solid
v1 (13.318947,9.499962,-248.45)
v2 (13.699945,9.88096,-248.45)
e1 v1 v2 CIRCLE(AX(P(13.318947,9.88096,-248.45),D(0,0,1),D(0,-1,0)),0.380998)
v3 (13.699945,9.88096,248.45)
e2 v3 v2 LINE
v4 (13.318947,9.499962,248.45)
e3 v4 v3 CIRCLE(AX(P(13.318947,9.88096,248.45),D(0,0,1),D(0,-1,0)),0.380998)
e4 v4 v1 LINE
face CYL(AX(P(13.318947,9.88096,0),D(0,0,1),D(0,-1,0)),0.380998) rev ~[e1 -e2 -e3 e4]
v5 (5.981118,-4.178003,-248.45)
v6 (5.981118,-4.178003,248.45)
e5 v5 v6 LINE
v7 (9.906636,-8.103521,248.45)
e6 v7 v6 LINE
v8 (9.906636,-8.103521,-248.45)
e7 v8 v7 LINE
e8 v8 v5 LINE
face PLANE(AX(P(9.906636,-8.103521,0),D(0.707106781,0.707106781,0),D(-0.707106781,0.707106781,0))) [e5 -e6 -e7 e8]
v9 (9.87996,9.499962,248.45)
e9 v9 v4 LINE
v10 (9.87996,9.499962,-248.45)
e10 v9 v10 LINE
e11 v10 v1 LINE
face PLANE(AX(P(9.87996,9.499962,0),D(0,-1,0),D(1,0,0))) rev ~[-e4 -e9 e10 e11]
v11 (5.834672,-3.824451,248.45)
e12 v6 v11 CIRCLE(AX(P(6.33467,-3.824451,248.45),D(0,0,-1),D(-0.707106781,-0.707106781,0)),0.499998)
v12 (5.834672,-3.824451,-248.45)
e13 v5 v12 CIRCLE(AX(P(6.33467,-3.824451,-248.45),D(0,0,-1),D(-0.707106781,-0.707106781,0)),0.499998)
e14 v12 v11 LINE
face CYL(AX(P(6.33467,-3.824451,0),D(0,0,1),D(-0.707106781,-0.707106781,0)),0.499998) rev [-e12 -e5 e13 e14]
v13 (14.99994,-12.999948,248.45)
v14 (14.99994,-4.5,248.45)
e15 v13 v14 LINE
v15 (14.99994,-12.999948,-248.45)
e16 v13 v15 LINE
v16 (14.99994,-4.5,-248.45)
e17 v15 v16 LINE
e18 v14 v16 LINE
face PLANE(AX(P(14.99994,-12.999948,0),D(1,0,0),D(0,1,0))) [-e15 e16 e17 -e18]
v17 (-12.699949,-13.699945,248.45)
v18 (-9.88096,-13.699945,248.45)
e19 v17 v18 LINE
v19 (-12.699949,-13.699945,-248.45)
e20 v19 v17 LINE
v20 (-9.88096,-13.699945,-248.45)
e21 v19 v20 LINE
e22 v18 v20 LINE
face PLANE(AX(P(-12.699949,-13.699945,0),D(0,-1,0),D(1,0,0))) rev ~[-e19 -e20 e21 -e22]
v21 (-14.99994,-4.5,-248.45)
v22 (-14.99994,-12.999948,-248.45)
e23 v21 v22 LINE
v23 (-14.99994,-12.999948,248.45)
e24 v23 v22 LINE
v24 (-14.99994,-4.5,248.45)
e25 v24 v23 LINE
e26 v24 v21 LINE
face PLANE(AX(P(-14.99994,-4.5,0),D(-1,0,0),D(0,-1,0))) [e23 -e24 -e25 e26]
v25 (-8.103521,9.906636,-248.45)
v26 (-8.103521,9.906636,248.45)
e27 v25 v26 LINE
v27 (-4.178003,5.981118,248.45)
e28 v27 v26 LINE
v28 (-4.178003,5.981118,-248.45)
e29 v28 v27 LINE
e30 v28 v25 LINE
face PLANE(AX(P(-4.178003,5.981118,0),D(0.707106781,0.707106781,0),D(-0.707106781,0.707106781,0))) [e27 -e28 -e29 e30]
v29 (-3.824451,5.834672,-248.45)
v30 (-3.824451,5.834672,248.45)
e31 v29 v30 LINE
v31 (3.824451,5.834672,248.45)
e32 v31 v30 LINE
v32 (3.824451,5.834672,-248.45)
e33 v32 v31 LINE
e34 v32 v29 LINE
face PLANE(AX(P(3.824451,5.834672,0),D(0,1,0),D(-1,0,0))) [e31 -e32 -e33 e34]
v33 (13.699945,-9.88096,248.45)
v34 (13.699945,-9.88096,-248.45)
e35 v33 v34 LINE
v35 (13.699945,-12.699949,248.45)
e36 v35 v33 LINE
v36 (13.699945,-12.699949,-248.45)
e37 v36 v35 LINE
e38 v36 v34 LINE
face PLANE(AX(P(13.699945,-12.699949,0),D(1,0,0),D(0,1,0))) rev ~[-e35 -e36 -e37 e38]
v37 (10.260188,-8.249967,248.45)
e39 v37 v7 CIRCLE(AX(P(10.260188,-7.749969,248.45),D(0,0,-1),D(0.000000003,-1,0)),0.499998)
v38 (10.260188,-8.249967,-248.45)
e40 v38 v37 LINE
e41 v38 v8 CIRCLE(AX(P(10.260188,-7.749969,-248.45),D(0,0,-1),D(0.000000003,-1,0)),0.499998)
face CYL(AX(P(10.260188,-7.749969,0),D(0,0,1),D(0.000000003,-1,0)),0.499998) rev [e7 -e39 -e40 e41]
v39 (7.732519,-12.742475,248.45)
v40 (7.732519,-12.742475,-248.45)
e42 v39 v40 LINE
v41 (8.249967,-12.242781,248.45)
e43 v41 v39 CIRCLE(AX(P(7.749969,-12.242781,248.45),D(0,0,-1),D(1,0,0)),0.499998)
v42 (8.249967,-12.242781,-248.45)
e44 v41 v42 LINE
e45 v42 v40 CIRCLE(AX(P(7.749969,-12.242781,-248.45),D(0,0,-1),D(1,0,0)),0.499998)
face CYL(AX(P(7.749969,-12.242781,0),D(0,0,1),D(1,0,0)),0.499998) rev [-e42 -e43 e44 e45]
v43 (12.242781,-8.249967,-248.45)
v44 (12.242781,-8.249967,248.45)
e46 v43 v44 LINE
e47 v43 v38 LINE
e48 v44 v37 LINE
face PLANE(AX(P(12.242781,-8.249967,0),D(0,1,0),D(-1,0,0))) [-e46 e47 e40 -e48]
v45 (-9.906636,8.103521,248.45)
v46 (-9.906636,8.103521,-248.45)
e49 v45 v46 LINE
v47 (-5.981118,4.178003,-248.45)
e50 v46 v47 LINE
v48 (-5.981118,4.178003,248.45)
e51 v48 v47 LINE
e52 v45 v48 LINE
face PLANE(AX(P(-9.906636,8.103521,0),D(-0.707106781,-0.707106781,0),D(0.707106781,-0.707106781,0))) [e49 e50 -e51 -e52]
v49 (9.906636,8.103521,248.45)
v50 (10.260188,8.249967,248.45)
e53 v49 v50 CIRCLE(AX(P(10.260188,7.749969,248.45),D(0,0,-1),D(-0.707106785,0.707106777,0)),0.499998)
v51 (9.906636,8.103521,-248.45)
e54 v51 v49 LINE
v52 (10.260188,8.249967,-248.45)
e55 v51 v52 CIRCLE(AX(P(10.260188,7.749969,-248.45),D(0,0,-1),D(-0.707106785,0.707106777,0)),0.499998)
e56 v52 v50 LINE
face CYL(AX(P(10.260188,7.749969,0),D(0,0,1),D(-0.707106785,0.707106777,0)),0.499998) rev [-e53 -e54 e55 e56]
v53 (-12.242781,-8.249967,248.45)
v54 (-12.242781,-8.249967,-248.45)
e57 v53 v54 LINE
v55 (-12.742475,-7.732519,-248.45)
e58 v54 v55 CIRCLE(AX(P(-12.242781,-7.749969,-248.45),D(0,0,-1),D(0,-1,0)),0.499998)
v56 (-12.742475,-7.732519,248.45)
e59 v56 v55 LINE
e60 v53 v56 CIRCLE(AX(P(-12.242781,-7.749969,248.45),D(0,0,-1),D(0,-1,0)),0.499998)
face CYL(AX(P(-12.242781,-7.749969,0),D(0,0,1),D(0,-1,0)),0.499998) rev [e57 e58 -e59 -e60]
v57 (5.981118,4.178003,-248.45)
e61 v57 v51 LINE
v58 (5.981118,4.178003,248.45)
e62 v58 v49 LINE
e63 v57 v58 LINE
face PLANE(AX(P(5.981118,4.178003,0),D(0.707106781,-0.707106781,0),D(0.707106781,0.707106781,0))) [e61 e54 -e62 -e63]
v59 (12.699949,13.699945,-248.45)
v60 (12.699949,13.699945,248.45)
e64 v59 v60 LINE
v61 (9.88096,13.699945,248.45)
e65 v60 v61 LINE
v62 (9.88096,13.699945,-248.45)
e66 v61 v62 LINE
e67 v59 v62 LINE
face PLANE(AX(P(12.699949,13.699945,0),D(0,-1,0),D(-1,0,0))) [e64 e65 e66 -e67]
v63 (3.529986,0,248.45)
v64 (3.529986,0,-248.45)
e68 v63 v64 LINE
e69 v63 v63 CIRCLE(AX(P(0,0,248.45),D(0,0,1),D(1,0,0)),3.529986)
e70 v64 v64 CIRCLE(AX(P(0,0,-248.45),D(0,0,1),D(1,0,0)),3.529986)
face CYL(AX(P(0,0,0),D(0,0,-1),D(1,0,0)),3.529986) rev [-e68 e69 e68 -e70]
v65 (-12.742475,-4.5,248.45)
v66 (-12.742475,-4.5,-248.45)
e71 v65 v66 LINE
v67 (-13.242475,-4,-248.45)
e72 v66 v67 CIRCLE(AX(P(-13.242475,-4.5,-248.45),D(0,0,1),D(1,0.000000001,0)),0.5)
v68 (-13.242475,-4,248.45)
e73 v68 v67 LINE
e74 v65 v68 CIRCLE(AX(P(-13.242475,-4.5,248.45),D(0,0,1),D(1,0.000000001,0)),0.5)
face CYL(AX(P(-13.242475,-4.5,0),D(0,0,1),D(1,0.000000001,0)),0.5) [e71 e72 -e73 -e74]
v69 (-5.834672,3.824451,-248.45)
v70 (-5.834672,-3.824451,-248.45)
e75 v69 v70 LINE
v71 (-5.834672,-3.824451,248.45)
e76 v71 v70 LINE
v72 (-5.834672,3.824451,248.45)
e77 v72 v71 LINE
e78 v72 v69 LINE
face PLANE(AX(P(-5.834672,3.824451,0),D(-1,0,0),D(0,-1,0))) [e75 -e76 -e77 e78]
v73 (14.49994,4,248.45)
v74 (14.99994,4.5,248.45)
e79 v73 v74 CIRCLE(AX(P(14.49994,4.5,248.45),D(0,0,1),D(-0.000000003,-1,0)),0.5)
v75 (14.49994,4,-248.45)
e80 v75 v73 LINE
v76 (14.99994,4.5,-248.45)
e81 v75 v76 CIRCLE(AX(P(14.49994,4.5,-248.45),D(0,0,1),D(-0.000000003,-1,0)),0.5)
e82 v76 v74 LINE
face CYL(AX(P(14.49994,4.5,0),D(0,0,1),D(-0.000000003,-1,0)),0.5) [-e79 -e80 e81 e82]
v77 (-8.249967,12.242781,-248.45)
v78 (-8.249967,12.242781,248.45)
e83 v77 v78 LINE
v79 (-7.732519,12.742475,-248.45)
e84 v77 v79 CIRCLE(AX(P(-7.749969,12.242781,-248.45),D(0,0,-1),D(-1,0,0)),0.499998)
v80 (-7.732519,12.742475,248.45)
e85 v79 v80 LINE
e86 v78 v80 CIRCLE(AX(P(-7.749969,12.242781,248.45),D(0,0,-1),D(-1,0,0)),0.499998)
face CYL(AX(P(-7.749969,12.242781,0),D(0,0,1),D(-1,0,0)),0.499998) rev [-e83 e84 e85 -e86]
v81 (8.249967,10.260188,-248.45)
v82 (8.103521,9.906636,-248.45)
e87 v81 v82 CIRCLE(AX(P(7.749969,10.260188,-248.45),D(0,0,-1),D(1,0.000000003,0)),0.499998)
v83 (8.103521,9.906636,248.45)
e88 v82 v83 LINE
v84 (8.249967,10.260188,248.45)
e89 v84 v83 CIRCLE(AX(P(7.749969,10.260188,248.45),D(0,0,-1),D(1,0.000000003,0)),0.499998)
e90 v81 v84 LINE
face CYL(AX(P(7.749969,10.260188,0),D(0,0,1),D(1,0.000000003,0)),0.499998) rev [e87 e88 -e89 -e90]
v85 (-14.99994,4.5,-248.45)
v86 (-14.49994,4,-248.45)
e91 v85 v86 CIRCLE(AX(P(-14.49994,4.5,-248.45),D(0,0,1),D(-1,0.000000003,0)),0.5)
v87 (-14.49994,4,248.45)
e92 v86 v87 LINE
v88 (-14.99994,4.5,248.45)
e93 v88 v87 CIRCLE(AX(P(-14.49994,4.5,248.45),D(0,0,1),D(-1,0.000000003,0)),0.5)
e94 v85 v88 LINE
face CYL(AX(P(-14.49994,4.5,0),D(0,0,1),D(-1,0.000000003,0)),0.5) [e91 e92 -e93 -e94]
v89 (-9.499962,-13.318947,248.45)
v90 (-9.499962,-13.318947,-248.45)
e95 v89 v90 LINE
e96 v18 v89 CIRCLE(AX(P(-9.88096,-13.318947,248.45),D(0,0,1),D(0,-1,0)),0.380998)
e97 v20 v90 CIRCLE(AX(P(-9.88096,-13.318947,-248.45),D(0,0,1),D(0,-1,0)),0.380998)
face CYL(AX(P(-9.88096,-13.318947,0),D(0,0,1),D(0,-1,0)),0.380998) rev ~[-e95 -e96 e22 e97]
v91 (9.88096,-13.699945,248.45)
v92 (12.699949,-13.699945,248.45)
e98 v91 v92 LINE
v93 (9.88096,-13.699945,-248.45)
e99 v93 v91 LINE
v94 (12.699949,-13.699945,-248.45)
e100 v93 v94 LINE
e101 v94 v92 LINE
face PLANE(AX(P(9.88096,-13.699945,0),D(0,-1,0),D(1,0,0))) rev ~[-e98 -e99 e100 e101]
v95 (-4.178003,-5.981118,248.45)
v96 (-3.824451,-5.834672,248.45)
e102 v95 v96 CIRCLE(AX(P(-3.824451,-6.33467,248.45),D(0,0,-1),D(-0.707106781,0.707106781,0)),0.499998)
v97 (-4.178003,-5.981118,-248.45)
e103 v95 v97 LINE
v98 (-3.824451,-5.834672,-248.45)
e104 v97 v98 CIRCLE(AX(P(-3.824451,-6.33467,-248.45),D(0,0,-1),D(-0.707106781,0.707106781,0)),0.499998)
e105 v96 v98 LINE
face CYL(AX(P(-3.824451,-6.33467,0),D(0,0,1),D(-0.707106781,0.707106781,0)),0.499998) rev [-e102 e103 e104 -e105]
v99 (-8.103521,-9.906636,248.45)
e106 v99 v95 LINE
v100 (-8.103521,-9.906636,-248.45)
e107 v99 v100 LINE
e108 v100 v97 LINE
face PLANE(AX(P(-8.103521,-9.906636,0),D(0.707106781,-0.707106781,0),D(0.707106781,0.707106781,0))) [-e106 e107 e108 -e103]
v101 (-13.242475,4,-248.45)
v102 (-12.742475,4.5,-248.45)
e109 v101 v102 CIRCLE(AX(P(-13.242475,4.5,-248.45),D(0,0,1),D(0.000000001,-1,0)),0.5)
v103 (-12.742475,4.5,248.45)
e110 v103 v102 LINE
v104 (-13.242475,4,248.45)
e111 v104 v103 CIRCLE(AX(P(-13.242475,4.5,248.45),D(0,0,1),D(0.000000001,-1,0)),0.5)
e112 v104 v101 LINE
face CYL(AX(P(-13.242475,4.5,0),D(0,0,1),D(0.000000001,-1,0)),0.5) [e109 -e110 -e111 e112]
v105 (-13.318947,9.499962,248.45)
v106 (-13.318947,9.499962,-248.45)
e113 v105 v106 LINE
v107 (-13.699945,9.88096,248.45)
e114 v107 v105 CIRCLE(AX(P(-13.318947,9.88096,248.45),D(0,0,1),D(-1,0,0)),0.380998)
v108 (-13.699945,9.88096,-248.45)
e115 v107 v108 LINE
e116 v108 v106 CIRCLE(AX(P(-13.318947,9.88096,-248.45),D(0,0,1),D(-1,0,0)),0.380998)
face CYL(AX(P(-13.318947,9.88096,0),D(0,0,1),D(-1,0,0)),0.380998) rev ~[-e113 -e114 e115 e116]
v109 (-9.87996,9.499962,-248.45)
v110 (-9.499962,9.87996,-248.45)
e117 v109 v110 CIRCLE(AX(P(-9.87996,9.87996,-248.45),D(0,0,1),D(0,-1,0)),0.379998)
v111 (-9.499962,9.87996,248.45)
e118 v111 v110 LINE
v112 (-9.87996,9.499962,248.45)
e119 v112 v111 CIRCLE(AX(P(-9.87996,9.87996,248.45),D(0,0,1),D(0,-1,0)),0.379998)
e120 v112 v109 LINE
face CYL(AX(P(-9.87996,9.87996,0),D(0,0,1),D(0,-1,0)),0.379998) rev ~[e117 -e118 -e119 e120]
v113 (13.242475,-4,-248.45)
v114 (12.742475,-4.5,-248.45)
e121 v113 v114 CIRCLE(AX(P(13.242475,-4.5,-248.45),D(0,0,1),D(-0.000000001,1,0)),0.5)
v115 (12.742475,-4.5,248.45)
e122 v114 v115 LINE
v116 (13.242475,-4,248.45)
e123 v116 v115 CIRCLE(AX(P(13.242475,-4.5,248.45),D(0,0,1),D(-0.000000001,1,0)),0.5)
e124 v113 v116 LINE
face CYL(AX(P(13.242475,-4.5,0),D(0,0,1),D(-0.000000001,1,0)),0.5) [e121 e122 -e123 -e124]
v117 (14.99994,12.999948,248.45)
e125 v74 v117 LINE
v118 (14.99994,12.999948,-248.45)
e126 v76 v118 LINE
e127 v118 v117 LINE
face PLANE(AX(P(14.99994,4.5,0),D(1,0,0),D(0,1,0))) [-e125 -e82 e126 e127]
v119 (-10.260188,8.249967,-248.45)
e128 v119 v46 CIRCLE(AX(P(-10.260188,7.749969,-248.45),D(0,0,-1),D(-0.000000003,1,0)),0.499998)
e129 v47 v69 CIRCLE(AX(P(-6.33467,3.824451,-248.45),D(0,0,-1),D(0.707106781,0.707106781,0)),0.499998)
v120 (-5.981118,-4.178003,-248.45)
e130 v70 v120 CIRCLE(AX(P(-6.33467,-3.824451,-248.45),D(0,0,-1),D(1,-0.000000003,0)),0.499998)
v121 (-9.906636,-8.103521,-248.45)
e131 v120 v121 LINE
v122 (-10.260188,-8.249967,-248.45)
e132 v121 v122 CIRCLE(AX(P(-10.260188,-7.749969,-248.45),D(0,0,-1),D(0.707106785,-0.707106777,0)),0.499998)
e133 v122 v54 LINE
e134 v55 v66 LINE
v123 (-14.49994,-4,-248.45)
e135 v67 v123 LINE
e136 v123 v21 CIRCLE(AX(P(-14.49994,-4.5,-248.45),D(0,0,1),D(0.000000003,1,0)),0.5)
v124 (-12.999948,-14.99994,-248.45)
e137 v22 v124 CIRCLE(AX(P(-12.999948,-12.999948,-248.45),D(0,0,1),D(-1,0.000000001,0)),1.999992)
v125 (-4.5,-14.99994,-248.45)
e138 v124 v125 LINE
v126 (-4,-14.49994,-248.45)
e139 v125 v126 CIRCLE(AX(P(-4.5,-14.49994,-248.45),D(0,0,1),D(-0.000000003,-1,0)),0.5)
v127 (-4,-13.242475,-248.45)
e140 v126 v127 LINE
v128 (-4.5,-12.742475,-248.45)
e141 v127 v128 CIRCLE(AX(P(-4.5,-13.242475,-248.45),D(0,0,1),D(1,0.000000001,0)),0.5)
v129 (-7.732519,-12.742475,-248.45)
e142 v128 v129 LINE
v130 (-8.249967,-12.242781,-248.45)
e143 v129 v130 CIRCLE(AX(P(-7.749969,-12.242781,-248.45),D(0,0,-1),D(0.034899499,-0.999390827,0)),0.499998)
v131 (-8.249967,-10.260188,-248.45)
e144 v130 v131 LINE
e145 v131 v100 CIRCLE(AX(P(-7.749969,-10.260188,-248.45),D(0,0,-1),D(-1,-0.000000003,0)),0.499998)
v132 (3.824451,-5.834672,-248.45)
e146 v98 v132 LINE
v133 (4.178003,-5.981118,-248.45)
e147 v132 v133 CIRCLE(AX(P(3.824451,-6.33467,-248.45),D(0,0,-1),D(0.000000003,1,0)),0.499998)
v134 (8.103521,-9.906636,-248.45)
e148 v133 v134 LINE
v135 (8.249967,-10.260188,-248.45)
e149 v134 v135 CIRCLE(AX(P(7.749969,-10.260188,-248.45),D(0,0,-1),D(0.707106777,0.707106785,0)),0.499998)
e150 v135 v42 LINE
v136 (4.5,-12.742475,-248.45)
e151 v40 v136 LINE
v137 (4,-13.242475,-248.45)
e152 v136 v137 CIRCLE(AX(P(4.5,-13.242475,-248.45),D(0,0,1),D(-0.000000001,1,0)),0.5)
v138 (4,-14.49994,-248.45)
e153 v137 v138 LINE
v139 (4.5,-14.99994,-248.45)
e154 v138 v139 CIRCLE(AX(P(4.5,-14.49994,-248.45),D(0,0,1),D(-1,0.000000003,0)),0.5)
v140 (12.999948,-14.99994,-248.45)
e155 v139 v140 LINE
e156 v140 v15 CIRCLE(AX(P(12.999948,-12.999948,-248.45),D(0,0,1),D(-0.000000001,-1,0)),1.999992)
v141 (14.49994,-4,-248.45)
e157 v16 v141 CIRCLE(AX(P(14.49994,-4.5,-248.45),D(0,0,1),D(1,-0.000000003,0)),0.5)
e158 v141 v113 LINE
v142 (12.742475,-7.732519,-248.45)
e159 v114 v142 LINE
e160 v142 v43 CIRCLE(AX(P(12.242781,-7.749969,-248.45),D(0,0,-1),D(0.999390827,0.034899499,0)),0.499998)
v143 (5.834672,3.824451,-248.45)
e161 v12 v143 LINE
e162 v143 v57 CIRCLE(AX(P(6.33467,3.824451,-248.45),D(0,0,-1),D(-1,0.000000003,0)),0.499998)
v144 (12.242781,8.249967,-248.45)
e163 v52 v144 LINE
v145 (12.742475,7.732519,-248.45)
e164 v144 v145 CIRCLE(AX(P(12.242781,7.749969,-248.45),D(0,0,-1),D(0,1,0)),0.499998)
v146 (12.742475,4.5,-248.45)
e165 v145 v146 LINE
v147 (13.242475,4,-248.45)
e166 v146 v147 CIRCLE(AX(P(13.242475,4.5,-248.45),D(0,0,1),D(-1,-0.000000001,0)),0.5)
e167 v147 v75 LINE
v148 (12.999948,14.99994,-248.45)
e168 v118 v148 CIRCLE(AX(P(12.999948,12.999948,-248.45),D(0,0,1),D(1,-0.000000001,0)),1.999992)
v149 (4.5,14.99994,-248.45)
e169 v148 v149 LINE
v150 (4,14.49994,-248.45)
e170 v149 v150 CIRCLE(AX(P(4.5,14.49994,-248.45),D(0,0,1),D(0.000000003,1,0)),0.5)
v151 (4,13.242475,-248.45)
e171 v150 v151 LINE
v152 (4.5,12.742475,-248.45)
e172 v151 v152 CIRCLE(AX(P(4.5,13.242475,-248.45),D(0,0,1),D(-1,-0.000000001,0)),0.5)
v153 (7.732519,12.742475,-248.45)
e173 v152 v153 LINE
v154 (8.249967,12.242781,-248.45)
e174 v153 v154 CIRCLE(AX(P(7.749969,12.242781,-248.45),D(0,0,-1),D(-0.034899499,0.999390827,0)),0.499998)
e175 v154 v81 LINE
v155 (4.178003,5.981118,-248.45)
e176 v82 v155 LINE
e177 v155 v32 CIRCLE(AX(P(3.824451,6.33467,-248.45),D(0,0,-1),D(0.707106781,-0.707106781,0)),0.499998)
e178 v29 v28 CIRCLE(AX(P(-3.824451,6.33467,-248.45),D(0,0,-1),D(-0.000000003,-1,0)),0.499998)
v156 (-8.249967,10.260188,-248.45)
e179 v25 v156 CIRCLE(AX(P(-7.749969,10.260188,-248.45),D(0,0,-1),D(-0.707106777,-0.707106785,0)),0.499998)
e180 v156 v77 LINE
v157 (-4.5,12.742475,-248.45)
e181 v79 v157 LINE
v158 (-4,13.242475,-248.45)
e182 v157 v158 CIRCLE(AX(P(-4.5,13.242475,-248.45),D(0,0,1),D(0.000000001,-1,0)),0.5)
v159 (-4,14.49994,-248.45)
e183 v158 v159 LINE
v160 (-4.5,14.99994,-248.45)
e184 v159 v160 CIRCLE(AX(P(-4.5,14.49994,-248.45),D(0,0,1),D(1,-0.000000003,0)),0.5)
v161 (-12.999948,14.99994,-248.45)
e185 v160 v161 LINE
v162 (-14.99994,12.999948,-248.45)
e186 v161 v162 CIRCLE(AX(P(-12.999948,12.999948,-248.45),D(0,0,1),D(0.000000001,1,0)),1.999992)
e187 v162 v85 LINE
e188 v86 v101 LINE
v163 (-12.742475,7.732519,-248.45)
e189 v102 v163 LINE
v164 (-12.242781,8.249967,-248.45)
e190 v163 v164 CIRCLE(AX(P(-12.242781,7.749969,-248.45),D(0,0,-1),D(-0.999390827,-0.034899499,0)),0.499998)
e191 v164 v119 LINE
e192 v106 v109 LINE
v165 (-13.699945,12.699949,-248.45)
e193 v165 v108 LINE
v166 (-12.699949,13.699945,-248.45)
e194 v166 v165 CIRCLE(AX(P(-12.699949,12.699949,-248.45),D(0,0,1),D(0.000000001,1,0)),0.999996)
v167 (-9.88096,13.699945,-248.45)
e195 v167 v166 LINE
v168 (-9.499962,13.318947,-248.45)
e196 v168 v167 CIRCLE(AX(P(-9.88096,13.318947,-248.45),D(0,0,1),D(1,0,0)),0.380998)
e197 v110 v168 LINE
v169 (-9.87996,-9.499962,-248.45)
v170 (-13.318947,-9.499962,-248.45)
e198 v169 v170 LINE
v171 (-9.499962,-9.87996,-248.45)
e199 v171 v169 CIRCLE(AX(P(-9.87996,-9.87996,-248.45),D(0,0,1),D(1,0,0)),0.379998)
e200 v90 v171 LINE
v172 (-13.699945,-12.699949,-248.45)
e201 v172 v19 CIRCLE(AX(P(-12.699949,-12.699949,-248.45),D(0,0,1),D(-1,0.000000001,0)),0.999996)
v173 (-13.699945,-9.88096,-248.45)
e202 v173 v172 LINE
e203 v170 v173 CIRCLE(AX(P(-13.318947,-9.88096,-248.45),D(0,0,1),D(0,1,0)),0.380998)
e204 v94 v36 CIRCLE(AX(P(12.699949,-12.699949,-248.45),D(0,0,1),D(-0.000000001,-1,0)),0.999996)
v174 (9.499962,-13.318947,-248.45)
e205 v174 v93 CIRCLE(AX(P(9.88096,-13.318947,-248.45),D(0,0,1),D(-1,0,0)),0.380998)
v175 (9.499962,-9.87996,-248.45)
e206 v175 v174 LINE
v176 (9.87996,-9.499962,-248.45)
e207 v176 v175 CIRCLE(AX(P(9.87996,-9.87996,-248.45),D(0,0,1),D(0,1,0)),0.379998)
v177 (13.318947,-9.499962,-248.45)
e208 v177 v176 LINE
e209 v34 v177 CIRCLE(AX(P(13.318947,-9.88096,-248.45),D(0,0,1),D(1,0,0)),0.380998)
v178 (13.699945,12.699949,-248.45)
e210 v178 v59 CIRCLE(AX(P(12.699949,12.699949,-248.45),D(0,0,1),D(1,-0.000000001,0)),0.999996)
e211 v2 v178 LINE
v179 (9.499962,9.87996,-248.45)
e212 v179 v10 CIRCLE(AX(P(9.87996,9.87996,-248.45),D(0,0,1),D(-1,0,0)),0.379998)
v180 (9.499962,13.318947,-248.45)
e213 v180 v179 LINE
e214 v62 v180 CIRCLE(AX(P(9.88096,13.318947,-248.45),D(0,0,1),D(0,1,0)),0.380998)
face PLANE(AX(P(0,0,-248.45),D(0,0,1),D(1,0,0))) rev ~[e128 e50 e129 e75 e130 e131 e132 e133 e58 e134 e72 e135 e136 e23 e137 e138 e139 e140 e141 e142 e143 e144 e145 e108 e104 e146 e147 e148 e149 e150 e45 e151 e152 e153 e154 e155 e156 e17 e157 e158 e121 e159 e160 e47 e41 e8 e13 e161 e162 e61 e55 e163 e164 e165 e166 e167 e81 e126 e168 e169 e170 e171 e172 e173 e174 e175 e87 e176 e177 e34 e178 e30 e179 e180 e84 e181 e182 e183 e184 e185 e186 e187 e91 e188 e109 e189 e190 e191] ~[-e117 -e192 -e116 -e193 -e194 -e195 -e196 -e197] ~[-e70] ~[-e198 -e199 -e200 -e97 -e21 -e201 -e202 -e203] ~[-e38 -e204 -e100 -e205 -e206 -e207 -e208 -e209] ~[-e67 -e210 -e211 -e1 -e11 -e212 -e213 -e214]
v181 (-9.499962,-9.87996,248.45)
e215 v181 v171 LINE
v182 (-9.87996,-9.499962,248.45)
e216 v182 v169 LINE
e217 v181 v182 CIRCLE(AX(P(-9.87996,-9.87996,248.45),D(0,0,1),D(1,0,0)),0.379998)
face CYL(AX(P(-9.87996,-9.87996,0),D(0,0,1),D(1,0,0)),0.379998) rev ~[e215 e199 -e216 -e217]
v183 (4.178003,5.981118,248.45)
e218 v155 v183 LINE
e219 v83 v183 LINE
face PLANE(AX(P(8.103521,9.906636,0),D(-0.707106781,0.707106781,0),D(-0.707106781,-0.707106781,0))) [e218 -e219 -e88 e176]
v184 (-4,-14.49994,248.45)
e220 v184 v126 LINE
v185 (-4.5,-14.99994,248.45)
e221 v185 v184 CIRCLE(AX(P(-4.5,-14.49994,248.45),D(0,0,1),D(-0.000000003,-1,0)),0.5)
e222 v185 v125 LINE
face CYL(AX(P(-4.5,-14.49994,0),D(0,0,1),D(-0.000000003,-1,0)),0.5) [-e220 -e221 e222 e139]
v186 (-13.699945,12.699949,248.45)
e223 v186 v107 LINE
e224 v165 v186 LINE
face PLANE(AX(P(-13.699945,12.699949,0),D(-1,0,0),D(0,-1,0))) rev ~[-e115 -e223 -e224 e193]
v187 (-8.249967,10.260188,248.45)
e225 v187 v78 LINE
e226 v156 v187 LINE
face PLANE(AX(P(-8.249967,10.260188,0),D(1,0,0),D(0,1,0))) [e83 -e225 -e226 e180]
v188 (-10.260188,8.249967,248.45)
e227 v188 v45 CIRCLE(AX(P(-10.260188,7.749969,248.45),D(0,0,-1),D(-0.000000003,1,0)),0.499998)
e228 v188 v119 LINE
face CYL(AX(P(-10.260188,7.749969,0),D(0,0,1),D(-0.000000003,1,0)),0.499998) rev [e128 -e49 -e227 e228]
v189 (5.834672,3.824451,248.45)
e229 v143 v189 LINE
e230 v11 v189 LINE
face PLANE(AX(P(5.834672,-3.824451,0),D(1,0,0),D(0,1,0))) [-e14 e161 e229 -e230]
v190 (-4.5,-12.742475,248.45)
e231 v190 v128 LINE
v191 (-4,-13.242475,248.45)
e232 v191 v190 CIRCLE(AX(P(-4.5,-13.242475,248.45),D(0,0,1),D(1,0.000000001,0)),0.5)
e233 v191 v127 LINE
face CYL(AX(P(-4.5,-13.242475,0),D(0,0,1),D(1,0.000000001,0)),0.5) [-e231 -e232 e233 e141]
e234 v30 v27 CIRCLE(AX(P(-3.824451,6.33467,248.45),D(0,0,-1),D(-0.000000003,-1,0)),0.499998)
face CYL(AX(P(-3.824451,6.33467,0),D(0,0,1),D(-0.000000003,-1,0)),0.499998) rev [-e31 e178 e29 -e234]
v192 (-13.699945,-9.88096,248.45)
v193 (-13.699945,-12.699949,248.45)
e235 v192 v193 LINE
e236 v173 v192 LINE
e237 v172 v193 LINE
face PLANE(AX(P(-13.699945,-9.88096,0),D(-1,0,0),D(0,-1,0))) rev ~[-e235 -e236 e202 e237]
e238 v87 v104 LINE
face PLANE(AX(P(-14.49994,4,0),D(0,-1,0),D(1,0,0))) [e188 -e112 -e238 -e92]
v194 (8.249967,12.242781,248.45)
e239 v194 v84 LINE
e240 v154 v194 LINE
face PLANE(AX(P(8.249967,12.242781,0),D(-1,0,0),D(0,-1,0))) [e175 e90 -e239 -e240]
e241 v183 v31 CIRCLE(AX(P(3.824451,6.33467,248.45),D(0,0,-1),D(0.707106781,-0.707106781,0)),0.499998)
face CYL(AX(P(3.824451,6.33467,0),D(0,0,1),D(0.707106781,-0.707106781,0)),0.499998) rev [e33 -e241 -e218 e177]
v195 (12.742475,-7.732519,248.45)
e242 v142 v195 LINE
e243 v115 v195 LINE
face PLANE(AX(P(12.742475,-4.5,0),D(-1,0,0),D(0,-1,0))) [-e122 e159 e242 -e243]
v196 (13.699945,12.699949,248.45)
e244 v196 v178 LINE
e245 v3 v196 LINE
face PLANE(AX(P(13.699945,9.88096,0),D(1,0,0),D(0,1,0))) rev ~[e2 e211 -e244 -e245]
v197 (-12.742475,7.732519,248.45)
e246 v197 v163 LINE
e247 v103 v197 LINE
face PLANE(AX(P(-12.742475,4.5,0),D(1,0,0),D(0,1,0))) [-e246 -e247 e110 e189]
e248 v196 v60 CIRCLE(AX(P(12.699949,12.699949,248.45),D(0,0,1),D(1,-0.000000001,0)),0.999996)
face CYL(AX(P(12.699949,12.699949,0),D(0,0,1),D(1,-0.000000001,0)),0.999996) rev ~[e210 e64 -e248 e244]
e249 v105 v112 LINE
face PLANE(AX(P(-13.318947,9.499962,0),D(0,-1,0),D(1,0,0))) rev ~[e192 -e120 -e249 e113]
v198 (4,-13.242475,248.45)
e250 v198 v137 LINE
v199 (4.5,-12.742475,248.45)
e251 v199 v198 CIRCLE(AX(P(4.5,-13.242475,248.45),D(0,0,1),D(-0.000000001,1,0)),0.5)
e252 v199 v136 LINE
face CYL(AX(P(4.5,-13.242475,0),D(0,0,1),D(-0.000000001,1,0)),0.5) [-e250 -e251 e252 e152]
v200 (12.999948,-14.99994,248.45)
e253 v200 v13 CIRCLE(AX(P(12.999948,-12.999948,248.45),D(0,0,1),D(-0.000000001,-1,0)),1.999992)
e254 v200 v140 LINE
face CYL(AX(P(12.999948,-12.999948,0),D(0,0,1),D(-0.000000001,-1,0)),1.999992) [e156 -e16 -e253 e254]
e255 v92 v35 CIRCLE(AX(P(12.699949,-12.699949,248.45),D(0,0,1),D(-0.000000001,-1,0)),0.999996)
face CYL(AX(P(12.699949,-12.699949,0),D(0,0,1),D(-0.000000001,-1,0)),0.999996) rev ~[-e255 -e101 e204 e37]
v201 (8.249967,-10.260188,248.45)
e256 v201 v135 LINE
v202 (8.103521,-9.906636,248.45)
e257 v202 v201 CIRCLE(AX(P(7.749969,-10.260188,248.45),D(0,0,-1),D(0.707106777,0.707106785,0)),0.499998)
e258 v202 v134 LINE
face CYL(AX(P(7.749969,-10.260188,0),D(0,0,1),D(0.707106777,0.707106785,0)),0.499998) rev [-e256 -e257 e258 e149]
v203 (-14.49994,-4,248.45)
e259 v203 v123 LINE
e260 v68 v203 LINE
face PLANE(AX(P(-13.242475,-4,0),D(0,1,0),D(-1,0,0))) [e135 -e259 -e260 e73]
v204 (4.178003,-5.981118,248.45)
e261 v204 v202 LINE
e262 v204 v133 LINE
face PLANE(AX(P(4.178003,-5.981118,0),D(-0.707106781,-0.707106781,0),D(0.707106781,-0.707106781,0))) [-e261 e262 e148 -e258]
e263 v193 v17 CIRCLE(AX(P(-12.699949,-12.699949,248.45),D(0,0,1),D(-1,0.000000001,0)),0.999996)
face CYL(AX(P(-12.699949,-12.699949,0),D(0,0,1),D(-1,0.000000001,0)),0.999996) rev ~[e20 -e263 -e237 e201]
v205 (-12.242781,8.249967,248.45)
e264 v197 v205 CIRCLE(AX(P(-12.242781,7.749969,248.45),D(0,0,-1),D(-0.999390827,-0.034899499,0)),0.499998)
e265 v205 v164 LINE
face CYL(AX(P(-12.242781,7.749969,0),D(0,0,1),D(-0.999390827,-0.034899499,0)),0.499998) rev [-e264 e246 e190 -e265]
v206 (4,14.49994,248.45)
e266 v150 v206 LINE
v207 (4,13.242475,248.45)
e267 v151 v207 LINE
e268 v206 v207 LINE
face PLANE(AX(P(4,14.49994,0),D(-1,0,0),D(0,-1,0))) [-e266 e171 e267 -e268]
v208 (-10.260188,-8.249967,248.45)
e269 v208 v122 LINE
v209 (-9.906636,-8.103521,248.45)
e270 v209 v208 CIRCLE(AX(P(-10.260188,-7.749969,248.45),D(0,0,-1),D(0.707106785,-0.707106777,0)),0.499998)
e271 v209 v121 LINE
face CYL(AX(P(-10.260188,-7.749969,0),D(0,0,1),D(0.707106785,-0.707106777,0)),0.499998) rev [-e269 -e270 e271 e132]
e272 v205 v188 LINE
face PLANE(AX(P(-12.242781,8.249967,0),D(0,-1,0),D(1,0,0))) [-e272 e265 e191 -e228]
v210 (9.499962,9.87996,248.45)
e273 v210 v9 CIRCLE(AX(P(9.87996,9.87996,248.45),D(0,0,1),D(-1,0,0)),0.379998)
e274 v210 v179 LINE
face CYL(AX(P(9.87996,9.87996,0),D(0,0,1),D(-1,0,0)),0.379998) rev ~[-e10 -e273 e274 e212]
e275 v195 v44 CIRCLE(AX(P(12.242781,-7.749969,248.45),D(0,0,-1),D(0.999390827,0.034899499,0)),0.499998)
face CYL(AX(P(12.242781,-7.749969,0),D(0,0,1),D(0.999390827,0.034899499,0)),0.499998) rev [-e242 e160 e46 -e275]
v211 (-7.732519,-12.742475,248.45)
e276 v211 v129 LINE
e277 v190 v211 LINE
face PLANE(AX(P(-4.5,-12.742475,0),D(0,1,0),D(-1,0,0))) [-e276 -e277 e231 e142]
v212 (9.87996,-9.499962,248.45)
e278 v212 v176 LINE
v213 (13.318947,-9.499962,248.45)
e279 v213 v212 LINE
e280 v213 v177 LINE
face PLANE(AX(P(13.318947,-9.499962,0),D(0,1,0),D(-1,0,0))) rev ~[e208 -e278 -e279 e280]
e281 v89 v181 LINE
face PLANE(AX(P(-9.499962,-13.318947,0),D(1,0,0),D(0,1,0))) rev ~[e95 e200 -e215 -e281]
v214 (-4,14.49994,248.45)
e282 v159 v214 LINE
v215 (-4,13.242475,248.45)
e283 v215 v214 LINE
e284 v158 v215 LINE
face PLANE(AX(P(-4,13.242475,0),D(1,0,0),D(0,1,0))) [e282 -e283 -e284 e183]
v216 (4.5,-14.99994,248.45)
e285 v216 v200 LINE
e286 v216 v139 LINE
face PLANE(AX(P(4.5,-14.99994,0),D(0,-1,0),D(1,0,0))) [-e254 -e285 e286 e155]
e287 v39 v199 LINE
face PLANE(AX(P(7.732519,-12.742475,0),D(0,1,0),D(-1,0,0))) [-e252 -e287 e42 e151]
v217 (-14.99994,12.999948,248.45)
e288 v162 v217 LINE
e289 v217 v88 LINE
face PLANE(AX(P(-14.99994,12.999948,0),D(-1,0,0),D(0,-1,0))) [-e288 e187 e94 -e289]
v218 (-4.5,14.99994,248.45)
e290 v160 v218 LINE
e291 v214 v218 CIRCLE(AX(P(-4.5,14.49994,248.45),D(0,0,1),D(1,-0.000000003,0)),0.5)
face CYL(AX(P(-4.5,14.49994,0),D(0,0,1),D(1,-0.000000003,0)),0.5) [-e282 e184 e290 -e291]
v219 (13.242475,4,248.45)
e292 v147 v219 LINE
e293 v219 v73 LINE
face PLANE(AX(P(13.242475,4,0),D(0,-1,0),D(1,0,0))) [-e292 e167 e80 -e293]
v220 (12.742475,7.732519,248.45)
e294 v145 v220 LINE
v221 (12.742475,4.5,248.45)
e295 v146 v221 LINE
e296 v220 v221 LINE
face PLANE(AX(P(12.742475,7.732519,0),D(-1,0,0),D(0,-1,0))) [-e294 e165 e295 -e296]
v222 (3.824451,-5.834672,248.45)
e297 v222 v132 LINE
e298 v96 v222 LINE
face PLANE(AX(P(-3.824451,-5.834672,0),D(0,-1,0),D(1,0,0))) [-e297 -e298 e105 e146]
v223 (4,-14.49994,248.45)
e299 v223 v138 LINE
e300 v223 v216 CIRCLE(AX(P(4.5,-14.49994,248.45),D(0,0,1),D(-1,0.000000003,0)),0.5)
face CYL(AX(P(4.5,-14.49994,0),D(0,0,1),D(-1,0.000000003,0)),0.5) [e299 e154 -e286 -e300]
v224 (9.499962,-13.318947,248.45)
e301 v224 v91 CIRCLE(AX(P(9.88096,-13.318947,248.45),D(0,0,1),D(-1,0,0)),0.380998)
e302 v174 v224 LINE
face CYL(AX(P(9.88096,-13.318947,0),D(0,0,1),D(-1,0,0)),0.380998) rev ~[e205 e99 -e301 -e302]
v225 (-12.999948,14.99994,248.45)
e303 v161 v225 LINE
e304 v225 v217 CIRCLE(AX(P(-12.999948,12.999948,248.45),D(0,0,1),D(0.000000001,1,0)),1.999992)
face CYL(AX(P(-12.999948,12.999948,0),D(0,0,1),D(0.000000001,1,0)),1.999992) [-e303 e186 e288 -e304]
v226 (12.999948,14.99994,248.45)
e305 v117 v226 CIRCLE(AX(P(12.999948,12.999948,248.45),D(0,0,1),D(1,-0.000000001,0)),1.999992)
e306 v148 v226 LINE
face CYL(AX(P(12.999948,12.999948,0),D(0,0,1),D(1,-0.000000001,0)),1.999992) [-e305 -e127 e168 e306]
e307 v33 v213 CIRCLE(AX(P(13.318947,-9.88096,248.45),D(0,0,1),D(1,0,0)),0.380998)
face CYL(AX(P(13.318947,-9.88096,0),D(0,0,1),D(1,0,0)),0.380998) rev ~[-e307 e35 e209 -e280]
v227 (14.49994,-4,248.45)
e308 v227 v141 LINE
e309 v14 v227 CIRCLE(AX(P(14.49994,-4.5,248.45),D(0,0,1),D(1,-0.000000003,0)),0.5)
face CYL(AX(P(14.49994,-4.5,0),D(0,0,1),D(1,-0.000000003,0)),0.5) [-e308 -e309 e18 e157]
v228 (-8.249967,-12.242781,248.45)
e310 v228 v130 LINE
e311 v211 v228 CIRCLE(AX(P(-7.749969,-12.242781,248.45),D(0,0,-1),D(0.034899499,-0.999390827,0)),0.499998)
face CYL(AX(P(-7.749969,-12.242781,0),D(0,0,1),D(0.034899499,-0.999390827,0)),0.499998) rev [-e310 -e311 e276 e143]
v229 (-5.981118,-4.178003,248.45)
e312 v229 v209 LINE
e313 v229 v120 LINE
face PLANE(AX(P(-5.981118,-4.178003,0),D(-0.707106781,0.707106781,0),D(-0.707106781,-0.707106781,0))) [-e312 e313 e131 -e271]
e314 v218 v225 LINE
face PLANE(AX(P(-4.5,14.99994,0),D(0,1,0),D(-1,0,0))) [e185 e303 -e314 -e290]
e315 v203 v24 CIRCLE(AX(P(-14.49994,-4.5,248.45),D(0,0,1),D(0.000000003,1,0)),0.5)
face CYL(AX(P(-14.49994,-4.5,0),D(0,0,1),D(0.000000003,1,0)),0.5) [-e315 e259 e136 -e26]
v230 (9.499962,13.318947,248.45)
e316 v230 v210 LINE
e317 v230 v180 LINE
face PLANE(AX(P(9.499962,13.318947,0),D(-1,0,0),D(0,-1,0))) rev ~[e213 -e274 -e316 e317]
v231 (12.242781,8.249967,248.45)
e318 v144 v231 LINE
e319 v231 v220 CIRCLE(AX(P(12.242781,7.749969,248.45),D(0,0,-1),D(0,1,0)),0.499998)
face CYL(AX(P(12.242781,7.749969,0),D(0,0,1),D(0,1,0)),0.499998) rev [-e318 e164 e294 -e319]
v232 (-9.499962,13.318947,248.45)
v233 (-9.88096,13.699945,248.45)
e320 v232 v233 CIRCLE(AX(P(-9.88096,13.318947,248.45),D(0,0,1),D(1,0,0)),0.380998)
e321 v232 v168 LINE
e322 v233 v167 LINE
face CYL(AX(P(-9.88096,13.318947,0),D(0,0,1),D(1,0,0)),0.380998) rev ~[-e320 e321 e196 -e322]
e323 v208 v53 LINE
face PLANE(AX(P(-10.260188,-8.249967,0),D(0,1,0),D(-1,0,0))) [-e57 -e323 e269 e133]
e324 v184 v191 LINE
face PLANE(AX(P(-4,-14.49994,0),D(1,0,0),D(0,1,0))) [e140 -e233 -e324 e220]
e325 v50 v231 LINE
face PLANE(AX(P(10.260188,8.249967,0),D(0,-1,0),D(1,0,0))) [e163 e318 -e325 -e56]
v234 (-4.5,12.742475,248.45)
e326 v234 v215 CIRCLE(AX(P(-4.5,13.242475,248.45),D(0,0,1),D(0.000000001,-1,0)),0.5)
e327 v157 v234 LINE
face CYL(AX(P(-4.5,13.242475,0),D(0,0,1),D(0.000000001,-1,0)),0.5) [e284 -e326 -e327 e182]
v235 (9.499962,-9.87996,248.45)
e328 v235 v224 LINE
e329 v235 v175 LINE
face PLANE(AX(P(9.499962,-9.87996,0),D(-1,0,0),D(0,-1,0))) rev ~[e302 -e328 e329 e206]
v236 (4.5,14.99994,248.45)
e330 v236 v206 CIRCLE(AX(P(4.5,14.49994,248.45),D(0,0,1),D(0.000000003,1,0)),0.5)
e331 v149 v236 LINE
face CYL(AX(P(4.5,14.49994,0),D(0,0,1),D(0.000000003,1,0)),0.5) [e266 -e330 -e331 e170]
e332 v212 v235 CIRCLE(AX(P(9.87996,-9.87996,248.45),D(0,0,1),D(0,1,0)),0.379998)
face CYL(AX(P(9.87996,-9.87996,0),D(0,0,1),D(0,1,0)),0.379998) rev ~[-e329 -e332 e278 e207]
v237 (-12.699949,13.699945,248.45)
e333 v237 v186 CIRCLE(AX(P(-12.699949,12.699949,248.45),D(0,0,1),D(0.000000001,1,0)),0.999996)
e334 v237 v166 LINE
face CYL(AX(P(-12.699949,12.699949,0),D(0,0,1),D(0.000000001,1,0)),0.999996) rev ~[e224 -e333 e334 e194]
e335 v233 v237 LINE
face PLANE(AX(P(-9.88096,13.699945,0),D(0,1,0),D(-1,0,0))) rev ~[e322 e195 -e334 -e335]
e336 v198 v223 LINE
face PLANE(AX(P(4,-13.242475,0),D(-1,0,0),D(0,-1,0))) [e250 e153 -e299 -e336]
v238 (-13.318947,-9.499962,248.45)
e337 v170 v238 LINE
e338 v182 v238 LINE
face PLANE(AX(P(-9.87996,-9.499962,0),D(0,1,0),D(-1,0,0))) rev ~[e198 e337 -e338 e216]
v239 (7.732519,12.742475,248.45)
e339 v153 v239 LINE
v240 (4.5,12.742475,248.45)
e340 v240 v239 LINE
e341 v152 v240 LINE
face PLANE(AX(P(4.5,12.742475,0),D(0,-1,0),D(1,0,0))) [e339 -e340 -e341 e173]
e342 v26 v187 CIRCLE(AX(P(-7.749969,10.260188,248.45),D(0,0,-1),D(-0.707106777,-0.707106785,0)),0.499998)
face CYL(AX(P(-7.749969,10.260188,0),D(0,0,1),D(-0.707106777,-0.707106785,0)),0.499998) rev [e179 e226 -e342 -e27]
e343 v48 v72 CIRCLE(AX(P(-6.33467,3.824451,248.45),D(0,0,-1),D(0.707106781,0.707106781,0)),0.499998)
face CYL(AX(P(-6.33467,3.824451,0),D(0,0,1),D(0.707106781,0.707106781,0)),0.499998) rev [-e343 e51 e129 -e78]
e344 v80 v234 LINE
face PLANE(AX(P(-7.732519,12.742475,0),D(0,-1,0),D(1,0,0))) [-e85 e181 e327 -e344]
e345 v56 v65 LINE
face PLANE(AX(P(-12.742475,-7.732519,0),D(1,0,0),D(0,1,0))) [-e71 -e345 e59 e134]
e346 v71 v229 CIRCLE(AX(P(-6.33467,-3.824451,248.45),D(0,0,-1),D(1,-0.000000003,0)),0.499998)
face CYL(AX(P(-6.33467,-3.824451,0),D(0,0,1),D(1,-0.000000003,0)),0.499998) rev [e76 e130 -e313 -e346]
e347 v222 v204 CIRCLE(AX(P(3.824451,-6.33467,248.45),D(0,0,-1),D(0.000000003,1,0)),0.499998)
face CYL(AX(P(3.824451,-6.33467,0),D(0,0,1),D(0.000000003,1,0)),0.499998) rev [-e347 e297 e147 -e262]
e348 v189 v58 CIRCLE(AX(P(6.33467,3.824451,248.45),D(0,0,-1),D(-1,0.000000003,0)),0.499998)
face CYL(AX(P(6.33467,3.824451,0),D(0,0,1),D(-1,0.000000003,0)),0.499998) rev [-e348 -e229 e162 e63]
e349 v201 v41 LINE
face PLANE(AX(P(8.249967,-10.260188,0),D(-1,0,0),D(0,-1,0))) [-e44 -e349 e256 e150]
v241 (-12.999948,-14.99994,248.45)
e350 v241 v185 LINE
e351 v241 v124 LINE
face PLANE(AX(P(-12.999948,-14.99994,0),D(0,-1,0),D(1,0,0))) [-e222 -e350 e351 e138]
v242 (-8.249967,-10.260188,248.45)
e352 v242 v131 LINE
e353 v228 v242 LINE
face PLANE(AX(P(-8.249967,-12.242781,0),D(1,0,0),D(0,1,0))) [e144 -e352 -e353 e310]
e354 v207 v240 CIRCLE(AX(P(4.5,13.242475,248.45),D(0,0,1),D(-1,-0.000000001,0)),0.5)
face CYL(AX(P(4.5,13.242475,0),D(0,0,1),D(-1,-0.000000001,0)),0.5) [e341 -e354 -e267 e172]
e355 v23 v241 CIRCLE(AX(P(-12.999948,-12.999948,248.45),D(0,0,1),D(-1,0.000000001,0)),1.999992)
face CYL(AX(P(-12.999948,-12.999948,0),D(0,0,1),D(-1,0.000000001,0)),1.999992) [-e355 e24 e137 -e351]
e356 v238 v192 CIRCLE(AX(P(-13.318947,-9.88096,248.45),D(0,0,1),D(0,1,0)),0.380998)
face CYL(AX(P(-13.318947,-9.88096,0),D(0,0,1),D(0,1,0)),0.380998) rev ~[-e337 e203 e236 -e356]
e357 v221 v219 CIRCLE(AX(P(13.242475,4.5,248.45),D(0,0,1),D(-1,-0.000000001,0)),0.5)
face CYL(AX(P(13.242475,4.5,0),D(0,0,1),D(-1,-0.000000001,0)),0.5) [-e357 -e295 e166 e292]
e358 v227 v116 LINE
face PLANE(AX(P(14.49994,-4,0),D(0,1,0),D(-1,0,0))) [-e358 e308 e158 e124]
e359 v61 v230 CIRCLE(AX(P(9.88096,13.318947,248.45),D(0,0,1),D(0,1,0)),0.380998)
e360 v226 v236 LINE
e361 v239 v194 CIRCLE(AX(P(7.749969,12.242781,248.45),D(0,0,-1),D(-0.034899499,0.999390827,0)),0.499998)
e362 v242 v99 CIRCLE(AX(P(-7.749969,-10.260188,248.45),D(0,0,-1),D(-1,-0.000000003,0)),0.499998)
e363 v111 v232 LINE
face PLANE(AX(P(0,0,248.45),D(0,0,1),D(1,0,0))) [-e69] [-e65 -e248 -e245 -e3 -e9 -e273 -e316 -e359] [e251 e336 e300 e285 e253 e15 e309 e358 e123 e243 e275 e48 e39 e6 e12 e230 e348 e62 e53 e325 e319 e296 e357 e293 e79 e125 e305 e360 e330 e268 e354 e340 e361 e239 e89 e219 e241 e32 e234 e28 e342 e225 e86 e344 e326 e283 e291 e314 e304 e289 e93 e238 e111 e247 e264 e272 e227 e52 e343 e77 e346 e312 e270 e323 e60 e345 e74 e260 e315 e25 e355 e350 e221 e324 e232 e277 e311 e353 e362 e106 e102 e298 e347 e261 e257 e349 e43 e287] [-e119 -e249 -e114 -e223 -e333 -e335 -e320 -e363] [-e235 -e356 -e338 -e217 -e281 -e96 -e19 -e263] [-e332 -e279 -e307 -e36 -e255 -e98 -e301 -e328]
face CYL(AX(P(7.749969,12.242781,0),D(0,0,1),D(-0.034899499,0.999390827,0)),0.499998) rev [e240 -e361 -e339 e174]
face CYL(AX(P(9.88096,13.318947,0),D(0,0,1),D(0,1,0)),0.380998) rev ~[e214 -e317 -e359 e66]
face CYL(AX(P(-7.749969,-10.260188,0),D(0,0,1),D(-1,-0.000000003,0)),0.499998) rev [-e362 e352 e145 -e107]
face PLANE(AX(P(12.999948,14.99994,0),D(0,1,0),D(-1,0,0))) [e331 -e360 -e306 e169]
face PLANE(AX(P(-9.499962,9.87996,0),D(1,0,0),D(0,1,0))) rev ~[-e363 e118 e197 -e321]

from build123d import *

# Parameters (mm, degrees)
SKETCH1_R           = 3.52998588
BOSS_EXTRUDE1_DEPTH = 248.45


with BuildPart() as part:
    # Sketch1 → Boss-Extrude1 (new, symmetric)
    with BuildSketch(Plane.XY):
        with BuildLine():
            Line((14.49994, -4), (13.24247465, -4))
            ThreePointArc((13.24247465, -4), (12.88892126, -4.146446609), (12.74247465, -4.5))
            Line((12.74247465, -4.5), (12.74247465, -7.732519321))
            ThreePointArc((12.74247465, -7.732519321), (12.602449697, -8.097296796), (12.242781236, -8.249967))
            Line((12.242781236, -8.249967), (10.260188032, -8.249967))
            ThreePointArc((10.260188032, -8.249967), (10.068847082, -8.211906919), (9.906636056, -8.103520976))
            Line((9.906636056, -8.103520976), (5.981117769, -4.178002689))
            ThreePointArc((5.981117769, -4.178002689), (5.872731827, -4.015791664), (5.834671745, -3.824450713))
            Line((5.834671745, -3.824450713), (5.834671745, -1.01249595))
            Line((5.834671745, -1.01249595), (5.834671745, 0.88749645))
            Line((5.834671745, 0.88749645), (5.834671745, 3.824450713))
            ThreePointArc((5.834671745, 3.824450713), (5.872731827, 4.015791664), (5.981117769, 4.178002689))
            Line((5.981117769, 4.178002689), (9.906636056, 8.103520976))
            ThreePointArc((9.906636056, 8.103520976), (10.068847082, 8.211906919), (10.260188032, 8.249967))
            Line((10.260188032, 8.249967), (12.242781236, 8.249967))
            ThreePointArc((12.242781236, 8.249967), (12.602449697, 8.097296796), (12.74247465, 7.732519321))
            Line((12.74247465, 7.732519321), (12.74247465, 4.5))
            ThreePointArc((12.74247465, 4.5), (12.88892126, 4.146446609), (13.24247465, 4))
            Line((13.24247465, 4), (14.49994, 4))
            ThreePointArc((14.49994, 4), (14.853493391, 4.146446609), (14.99994, 4.5))
            Line((14.99994, 4.5), (14.99994, 12.999948))
            ThreePointArc((14.99994, 12.999948), (14.414155906, 14.414155906), (12.999948, 14.99994))
            Line((12.999948, 14.99994), (4.5, 14.99994))
            ThreePointArc((4.5, 14.99994), (4.146446609, 14.853493391), (4, 14.49994))
            Line((4, 14.49994), (4, 13.24247465))
            ThreePointArc((4, 13.24247465), (4.146446609, 12.88892126), (4.5, 12.74247465))
            Line((4.5, 12.74247465), (7.732519321, 12.74247465))
            ThreePointArc((7.732519321, 12.74247465), (8.097296796, 12.602449697), (8.249967, 12.242781236))
            Line((8.249967, 12.242781236), (8.249967, 10.260188032))
            ThreePointArc((8.249967, 10.260188032), (8.211906919, 10.068847082), (8.103520976, 9.906636056))
            Line((8.103520976, 9.906636056), (4.178002689, 5.981117769))
            ThreePointArc((4.178002689, 5.981117769), (4.015791664, 5.872731827), (3.824450713, 5.834671745))
            Line((3.824450713, 5.834671745), (0.9499962, 5.834671745))
            Line((0.9499962, 5.834671745), (-0.9499962, 5.834671745))
            Line((-0.9499962, 5.834671745), (-3.824450713, 5.834671745))
            ThreePointArc((-3.824450713, 5.834671745), (-4.015791664, 5.872731827), (-4.178002689, 5.981117769))
            Line((-4.178002689, 5.981117769), (-8.103520976, 9.906636056))
            ThreePointArc((-8.103520976, 9.906636056), (-8.211906919, 10.068847082), (-8.249967, 10.260188032))
            Line((-8.249967, 10.260188032), (-8.249967, 12.242781236))
            ThreePointArc((-8.249967, 12.242781236), (-8.097296796, 12.602449697), (-7.732519321, 12.74247465))
            Line((-7.732519321, 12.74247465), (-4.5, 12.74247465))
            ThreePointArc((-4.5, 12.74247465), (-4.146446609, 12.88892126), (-4, 13.24247465))
            Line((-4, 13.24247465), (-4, 14.49994))
            ThreePointArc((-4, 14.49994), (-4.146446609, 14.853493391), (-4.5, 14.99994))
            Line((-4.5, 14.99994), (-12.999948, 14.99994))
            ThreePointArc((-12.999948, 14.99994), (-14.414155906, 14.414155906), (-14.99994, 12.999948))
            Line((-14.99994, 12.999948), (-14.99994, 4.5))
            ThreePointArc((-14.99994, 4.5), (-14.853493391, 4.146446609), (-14.49994, 4))
            Line((-14.49994, 4), (-13.24247465, 4))
            ThreePointArc((-13.24247465, 4), (-12.88892126, 4.146446609), (-12.74247465, 4.5))
            Line((-12.74247465, 4.5), (-12.74247465, 7.732519321))
            ThreePointArc((-12.74247465, 7.732519321), (-12.602449697, 8.097296796), (-12.242781236, 8.249967))
            Line((-12.242781236, 8.249967), (-10.260188032, 8.249967))
            ThreePointArc((-10.260188032, 8.249967), (-10.068847082, 8.211906919), (-9.906636056, 8.103520976))
            Line((-9.906636056, 8.103520976), (-5.981117769, 4.178002689))
            ThreePointArc((-5.981117769, 4.178002689), (-5.872731827, 4.015791664), (-5.834671745, 3.824450713))
            Line((-5.834671745, 3.824450713), (-5.834671745, 0.88749645))
            Line((-5.834671745, 0.88749645), (-5.834671745, -1.01249595))
            Line((-5.834671745, -1.01249595), (-5.834671745, -3.824450713))
            ThreePointArc((-5.834671745, -3.824450713), (-5.872731827, -4.015791664), (-5.981117769, -4.178002689))
            Line((-5.981117769, -4.178002689), (-9.906636056, -8.103520976))
            ThreePointArc((-9.906636056, -8.103520976), (-10.068847082, -8.211906919), (-10.260188032, -8.249967))
            Line((-10.260188032, -8.249967), (-12.242781236, -8.249967))
            ThreePointArc((-12.242781236, -8.249967), (-12.602449697, -8.097296796), (-12.74247465, -7.732519321))
            Line((-12.74247465, -7.732519321), (-12.74247465, -4.5))
            ThreePointArc((-12.74247465, -4.5), (-12.88892126, -4.146446609), (-13.24247465, -4))
            Line((-13.24247465, -4), (-14.49994, -4))
            ThreePointArc((-14.49994, -4), (-14.853493391, -4.146446609), (-14.99994, -4.5))
            Line((-14.99994, -4.5), (-14.99994, -12.999948))
            ThreePointArc((-14.99994, -12.999948), (-14.414155906, -14.414155906), (-12.999948, -14.99994))
            Line((-12.999948, -14.99994), (-4.5, -14.99994))
            ThreePointArc((-4.5, -14.99994), (-4.146446609, -14.853493391), (-4, -14.49994))
            Line((-4, -14.49994), (-4, -13.24247465))
            ThreePointArc((-4, -13.24247465), (-4.146446609, -12.88892126), (-4.5, -12.74247465))
            Line((-4.5, -12.74247465), (-7.732519321, -12.74247465))
            ThreePointArc((-7.732519321, -12.74247465), (-8.097296796, -12.602449697), (-8.249967, -12.242781236))
            Line((-8.249967, -12.242781236), (-8.249967, -10.260188032))
            ThreePointArc((-8.249967, -10.260188032), (-8.211906919, -10.068847082), (-8.103520976, -9.906636056))
            Line((-8.103520976, -9.906636056), (-4.178002689, -5.981117769))
            ThreePointArc((-4.178002689, -5.981117769), (-4.015791664, -5.872731827), (-3.824450713, -5.834671745))
            Line((-3.824450713, -5.834671745), (-0.9499962, -5.834671745))
            Line((-0.9499962, -5.834671745), (0.9499962, -5.834671745))
            Line((0.9499962, -5.834671745), (3.824450713, -5.834671745))
            ThreePointArc((3.824450713, -5.834671745), (4.015791664, -5.872731827), (4.178002689, -5.981117769))
            Line((4.178002689, -5.981117769), (8.103520976, -9.906636056))
            ThreePointArc((8.103520976, -9.906636056), (8.211906919, -10.068847082), (8.249967, -10.260188032))
            Line((8.249967, -10.260188032), (8.249967, -12.242781236))
            ThreePointArc((8.249967, -12.242781236), (8.097296796, -12.602449697), (7.732519321, -12.74247465))
            Line((7.732519321, -12.74247465), (4.5, -12.74247465))
            ThreePointArc((4.5, -12.74247465), (4.146446609, -12.88892126), (4, -13.24247465))
            Line((4, -13.24247465), (4, -14.49994))
            ThreePointArc((4, -14.49994), (4.146446609, -14.853493391), (4.5, -14.99994))
            Line((4.5, -14.99994), (12.999948, -14.99994))
            ThreePointArc((12.999948, -14.99994), (14.414155906, -14.414155906), (14.99994, -12.999948))
            Line((14.99994, -12.999948), (14.99994, -4.5))
            ThreePointArc((14.99994, -4.5), (14.853493391, -4.146446609), (14.49994, -4))
        make_face()
        Circle(SKETCH1_R, mode=Mode.SUBTRACT)
        with BuildLine():
            Line((-12.6999492, -13.6999452), (-9.880960476, -13.6999452))
            ThreePointArc((-9.880960476, -13.6999452), (-9.61155387, -13.58835333), (-9.499962, -13.318946724))
            Line((-9.499962, -13.318946724), (-9.499962, -9.87996048))
            ThreePointArc((-9.499962, -9.87996048), (-9.611260978, -9.611260978), (-9.87996048, -9.499962))
            Line((-9.87996048, -9.499962), (-13.318946724, -9.499962))
            ThreePointArc((-13.318946724, -9.499962), (-13.58835333, -9.61155387), (-13.6999452, -9.880960476))
            Line((-13.6999452, -9.880960476), (-13.6999452, -12.6999492))
            ThreePointArc((-13.6999452, -12.6999492), (-13.407053153, -13.407053153), (-12.6999492, -13.6999452))
        make_face(mode=Mode.SUBTRACT)
        with BuildLine():
            Line((13.6999452, -12.6999492), (13.6999452, -9.880960476))
            ThreePointArc((13.6999452, -9.880960476), (13.58835333, -9.61155387), (13.318946724, -9.499962))
            Line((13.318946724, -9.499962), (9.87996048, -9.499962))
            ThreePointArc((9.87996048, -9.499962), (9.611260978, -9.611260978), (9.499962, -9.87996048))
            Line((9.499962, -9.87996048), (9.499962, -13.318946724))
            ThreePointArc((9.499962, -13.318946724), (9.61155387, -13.58835333), (9.880960476, -13.6999452))
            Line((9.880960476, -13.6999452), (12.6999492, -13.6999452))
            ThreePointArc((12.6999492, -13.6999452), (13.407053153, -13.407053153), (13.6999452, -12.6999492))
        make_face(mode=Mode.SUBTRACT)
        with BuildLine():
            Line((9.87996048, 9.499962), (13.318946724, 9.499962))
            ThreePointArc((13.318946724, 9.499962), (13.58835333, 9.61155387), (13.6999452, 9.880960476))
            Line((13.6999452, 9.880960476), (13.6999452, 12.6999492))
            ThreePointArc((13.6999452, 12.6999492), (13.407053153, 13.407053153), (12.6999492, 13.6999452))
            Line((12.6999492, 13.6999452), (9.880960476, 13.6999452))
            ThreePointArc((9.880960476, 13.6999452), (9.61155387, 13.58835333), (9.499962, 13.318946724))
            Line((9.499962, 13.318946724), (9.499962, 9.87996048))
            ThreePointArc((9.499962, 9.87996048), (9.611260978, 9.611260978), (9.87996048, 9.499962))
        make_face(mode=Mode.SUBTRACT)
        with BuildLine():
            Line((-13.6999452, 12.6999492), (-13.6999452, 9.880960476))
            ThreePointArc((-13.6999452, 9.880960476), (-13.58835333, 9.61155387), (-13.318946724, 9.499962))
            Line((-13.318946724, 9.499962), (-9.87996048, 9.499962))
            ThreePointArc((-9.87996048, 9.499962), (-9.611260978, 9.611260978), (-9.499962, 9.87996048))
            Line((-9.499962, 9.87996048), (-9.499962, 13.318946724))
            ThreePointArc((-9.499962, 13.318946724), (-9.61155387, 13.58835333), (-9.880960476, 13.6999452))
            Line((-9.880960476, 13.6999452), (-12.6999492, 13.6999452))
            ThreePointArc((-12.6999492, 13.6999452), (-13.407053153, 13.407053153), (-13.6999452, 12.6999492))
        make_face(mode=Mode.SUBTRACT)
    extrude(amount=BOSS_EXTRUDE1_DEPTH, both=True)


solid = part.part
